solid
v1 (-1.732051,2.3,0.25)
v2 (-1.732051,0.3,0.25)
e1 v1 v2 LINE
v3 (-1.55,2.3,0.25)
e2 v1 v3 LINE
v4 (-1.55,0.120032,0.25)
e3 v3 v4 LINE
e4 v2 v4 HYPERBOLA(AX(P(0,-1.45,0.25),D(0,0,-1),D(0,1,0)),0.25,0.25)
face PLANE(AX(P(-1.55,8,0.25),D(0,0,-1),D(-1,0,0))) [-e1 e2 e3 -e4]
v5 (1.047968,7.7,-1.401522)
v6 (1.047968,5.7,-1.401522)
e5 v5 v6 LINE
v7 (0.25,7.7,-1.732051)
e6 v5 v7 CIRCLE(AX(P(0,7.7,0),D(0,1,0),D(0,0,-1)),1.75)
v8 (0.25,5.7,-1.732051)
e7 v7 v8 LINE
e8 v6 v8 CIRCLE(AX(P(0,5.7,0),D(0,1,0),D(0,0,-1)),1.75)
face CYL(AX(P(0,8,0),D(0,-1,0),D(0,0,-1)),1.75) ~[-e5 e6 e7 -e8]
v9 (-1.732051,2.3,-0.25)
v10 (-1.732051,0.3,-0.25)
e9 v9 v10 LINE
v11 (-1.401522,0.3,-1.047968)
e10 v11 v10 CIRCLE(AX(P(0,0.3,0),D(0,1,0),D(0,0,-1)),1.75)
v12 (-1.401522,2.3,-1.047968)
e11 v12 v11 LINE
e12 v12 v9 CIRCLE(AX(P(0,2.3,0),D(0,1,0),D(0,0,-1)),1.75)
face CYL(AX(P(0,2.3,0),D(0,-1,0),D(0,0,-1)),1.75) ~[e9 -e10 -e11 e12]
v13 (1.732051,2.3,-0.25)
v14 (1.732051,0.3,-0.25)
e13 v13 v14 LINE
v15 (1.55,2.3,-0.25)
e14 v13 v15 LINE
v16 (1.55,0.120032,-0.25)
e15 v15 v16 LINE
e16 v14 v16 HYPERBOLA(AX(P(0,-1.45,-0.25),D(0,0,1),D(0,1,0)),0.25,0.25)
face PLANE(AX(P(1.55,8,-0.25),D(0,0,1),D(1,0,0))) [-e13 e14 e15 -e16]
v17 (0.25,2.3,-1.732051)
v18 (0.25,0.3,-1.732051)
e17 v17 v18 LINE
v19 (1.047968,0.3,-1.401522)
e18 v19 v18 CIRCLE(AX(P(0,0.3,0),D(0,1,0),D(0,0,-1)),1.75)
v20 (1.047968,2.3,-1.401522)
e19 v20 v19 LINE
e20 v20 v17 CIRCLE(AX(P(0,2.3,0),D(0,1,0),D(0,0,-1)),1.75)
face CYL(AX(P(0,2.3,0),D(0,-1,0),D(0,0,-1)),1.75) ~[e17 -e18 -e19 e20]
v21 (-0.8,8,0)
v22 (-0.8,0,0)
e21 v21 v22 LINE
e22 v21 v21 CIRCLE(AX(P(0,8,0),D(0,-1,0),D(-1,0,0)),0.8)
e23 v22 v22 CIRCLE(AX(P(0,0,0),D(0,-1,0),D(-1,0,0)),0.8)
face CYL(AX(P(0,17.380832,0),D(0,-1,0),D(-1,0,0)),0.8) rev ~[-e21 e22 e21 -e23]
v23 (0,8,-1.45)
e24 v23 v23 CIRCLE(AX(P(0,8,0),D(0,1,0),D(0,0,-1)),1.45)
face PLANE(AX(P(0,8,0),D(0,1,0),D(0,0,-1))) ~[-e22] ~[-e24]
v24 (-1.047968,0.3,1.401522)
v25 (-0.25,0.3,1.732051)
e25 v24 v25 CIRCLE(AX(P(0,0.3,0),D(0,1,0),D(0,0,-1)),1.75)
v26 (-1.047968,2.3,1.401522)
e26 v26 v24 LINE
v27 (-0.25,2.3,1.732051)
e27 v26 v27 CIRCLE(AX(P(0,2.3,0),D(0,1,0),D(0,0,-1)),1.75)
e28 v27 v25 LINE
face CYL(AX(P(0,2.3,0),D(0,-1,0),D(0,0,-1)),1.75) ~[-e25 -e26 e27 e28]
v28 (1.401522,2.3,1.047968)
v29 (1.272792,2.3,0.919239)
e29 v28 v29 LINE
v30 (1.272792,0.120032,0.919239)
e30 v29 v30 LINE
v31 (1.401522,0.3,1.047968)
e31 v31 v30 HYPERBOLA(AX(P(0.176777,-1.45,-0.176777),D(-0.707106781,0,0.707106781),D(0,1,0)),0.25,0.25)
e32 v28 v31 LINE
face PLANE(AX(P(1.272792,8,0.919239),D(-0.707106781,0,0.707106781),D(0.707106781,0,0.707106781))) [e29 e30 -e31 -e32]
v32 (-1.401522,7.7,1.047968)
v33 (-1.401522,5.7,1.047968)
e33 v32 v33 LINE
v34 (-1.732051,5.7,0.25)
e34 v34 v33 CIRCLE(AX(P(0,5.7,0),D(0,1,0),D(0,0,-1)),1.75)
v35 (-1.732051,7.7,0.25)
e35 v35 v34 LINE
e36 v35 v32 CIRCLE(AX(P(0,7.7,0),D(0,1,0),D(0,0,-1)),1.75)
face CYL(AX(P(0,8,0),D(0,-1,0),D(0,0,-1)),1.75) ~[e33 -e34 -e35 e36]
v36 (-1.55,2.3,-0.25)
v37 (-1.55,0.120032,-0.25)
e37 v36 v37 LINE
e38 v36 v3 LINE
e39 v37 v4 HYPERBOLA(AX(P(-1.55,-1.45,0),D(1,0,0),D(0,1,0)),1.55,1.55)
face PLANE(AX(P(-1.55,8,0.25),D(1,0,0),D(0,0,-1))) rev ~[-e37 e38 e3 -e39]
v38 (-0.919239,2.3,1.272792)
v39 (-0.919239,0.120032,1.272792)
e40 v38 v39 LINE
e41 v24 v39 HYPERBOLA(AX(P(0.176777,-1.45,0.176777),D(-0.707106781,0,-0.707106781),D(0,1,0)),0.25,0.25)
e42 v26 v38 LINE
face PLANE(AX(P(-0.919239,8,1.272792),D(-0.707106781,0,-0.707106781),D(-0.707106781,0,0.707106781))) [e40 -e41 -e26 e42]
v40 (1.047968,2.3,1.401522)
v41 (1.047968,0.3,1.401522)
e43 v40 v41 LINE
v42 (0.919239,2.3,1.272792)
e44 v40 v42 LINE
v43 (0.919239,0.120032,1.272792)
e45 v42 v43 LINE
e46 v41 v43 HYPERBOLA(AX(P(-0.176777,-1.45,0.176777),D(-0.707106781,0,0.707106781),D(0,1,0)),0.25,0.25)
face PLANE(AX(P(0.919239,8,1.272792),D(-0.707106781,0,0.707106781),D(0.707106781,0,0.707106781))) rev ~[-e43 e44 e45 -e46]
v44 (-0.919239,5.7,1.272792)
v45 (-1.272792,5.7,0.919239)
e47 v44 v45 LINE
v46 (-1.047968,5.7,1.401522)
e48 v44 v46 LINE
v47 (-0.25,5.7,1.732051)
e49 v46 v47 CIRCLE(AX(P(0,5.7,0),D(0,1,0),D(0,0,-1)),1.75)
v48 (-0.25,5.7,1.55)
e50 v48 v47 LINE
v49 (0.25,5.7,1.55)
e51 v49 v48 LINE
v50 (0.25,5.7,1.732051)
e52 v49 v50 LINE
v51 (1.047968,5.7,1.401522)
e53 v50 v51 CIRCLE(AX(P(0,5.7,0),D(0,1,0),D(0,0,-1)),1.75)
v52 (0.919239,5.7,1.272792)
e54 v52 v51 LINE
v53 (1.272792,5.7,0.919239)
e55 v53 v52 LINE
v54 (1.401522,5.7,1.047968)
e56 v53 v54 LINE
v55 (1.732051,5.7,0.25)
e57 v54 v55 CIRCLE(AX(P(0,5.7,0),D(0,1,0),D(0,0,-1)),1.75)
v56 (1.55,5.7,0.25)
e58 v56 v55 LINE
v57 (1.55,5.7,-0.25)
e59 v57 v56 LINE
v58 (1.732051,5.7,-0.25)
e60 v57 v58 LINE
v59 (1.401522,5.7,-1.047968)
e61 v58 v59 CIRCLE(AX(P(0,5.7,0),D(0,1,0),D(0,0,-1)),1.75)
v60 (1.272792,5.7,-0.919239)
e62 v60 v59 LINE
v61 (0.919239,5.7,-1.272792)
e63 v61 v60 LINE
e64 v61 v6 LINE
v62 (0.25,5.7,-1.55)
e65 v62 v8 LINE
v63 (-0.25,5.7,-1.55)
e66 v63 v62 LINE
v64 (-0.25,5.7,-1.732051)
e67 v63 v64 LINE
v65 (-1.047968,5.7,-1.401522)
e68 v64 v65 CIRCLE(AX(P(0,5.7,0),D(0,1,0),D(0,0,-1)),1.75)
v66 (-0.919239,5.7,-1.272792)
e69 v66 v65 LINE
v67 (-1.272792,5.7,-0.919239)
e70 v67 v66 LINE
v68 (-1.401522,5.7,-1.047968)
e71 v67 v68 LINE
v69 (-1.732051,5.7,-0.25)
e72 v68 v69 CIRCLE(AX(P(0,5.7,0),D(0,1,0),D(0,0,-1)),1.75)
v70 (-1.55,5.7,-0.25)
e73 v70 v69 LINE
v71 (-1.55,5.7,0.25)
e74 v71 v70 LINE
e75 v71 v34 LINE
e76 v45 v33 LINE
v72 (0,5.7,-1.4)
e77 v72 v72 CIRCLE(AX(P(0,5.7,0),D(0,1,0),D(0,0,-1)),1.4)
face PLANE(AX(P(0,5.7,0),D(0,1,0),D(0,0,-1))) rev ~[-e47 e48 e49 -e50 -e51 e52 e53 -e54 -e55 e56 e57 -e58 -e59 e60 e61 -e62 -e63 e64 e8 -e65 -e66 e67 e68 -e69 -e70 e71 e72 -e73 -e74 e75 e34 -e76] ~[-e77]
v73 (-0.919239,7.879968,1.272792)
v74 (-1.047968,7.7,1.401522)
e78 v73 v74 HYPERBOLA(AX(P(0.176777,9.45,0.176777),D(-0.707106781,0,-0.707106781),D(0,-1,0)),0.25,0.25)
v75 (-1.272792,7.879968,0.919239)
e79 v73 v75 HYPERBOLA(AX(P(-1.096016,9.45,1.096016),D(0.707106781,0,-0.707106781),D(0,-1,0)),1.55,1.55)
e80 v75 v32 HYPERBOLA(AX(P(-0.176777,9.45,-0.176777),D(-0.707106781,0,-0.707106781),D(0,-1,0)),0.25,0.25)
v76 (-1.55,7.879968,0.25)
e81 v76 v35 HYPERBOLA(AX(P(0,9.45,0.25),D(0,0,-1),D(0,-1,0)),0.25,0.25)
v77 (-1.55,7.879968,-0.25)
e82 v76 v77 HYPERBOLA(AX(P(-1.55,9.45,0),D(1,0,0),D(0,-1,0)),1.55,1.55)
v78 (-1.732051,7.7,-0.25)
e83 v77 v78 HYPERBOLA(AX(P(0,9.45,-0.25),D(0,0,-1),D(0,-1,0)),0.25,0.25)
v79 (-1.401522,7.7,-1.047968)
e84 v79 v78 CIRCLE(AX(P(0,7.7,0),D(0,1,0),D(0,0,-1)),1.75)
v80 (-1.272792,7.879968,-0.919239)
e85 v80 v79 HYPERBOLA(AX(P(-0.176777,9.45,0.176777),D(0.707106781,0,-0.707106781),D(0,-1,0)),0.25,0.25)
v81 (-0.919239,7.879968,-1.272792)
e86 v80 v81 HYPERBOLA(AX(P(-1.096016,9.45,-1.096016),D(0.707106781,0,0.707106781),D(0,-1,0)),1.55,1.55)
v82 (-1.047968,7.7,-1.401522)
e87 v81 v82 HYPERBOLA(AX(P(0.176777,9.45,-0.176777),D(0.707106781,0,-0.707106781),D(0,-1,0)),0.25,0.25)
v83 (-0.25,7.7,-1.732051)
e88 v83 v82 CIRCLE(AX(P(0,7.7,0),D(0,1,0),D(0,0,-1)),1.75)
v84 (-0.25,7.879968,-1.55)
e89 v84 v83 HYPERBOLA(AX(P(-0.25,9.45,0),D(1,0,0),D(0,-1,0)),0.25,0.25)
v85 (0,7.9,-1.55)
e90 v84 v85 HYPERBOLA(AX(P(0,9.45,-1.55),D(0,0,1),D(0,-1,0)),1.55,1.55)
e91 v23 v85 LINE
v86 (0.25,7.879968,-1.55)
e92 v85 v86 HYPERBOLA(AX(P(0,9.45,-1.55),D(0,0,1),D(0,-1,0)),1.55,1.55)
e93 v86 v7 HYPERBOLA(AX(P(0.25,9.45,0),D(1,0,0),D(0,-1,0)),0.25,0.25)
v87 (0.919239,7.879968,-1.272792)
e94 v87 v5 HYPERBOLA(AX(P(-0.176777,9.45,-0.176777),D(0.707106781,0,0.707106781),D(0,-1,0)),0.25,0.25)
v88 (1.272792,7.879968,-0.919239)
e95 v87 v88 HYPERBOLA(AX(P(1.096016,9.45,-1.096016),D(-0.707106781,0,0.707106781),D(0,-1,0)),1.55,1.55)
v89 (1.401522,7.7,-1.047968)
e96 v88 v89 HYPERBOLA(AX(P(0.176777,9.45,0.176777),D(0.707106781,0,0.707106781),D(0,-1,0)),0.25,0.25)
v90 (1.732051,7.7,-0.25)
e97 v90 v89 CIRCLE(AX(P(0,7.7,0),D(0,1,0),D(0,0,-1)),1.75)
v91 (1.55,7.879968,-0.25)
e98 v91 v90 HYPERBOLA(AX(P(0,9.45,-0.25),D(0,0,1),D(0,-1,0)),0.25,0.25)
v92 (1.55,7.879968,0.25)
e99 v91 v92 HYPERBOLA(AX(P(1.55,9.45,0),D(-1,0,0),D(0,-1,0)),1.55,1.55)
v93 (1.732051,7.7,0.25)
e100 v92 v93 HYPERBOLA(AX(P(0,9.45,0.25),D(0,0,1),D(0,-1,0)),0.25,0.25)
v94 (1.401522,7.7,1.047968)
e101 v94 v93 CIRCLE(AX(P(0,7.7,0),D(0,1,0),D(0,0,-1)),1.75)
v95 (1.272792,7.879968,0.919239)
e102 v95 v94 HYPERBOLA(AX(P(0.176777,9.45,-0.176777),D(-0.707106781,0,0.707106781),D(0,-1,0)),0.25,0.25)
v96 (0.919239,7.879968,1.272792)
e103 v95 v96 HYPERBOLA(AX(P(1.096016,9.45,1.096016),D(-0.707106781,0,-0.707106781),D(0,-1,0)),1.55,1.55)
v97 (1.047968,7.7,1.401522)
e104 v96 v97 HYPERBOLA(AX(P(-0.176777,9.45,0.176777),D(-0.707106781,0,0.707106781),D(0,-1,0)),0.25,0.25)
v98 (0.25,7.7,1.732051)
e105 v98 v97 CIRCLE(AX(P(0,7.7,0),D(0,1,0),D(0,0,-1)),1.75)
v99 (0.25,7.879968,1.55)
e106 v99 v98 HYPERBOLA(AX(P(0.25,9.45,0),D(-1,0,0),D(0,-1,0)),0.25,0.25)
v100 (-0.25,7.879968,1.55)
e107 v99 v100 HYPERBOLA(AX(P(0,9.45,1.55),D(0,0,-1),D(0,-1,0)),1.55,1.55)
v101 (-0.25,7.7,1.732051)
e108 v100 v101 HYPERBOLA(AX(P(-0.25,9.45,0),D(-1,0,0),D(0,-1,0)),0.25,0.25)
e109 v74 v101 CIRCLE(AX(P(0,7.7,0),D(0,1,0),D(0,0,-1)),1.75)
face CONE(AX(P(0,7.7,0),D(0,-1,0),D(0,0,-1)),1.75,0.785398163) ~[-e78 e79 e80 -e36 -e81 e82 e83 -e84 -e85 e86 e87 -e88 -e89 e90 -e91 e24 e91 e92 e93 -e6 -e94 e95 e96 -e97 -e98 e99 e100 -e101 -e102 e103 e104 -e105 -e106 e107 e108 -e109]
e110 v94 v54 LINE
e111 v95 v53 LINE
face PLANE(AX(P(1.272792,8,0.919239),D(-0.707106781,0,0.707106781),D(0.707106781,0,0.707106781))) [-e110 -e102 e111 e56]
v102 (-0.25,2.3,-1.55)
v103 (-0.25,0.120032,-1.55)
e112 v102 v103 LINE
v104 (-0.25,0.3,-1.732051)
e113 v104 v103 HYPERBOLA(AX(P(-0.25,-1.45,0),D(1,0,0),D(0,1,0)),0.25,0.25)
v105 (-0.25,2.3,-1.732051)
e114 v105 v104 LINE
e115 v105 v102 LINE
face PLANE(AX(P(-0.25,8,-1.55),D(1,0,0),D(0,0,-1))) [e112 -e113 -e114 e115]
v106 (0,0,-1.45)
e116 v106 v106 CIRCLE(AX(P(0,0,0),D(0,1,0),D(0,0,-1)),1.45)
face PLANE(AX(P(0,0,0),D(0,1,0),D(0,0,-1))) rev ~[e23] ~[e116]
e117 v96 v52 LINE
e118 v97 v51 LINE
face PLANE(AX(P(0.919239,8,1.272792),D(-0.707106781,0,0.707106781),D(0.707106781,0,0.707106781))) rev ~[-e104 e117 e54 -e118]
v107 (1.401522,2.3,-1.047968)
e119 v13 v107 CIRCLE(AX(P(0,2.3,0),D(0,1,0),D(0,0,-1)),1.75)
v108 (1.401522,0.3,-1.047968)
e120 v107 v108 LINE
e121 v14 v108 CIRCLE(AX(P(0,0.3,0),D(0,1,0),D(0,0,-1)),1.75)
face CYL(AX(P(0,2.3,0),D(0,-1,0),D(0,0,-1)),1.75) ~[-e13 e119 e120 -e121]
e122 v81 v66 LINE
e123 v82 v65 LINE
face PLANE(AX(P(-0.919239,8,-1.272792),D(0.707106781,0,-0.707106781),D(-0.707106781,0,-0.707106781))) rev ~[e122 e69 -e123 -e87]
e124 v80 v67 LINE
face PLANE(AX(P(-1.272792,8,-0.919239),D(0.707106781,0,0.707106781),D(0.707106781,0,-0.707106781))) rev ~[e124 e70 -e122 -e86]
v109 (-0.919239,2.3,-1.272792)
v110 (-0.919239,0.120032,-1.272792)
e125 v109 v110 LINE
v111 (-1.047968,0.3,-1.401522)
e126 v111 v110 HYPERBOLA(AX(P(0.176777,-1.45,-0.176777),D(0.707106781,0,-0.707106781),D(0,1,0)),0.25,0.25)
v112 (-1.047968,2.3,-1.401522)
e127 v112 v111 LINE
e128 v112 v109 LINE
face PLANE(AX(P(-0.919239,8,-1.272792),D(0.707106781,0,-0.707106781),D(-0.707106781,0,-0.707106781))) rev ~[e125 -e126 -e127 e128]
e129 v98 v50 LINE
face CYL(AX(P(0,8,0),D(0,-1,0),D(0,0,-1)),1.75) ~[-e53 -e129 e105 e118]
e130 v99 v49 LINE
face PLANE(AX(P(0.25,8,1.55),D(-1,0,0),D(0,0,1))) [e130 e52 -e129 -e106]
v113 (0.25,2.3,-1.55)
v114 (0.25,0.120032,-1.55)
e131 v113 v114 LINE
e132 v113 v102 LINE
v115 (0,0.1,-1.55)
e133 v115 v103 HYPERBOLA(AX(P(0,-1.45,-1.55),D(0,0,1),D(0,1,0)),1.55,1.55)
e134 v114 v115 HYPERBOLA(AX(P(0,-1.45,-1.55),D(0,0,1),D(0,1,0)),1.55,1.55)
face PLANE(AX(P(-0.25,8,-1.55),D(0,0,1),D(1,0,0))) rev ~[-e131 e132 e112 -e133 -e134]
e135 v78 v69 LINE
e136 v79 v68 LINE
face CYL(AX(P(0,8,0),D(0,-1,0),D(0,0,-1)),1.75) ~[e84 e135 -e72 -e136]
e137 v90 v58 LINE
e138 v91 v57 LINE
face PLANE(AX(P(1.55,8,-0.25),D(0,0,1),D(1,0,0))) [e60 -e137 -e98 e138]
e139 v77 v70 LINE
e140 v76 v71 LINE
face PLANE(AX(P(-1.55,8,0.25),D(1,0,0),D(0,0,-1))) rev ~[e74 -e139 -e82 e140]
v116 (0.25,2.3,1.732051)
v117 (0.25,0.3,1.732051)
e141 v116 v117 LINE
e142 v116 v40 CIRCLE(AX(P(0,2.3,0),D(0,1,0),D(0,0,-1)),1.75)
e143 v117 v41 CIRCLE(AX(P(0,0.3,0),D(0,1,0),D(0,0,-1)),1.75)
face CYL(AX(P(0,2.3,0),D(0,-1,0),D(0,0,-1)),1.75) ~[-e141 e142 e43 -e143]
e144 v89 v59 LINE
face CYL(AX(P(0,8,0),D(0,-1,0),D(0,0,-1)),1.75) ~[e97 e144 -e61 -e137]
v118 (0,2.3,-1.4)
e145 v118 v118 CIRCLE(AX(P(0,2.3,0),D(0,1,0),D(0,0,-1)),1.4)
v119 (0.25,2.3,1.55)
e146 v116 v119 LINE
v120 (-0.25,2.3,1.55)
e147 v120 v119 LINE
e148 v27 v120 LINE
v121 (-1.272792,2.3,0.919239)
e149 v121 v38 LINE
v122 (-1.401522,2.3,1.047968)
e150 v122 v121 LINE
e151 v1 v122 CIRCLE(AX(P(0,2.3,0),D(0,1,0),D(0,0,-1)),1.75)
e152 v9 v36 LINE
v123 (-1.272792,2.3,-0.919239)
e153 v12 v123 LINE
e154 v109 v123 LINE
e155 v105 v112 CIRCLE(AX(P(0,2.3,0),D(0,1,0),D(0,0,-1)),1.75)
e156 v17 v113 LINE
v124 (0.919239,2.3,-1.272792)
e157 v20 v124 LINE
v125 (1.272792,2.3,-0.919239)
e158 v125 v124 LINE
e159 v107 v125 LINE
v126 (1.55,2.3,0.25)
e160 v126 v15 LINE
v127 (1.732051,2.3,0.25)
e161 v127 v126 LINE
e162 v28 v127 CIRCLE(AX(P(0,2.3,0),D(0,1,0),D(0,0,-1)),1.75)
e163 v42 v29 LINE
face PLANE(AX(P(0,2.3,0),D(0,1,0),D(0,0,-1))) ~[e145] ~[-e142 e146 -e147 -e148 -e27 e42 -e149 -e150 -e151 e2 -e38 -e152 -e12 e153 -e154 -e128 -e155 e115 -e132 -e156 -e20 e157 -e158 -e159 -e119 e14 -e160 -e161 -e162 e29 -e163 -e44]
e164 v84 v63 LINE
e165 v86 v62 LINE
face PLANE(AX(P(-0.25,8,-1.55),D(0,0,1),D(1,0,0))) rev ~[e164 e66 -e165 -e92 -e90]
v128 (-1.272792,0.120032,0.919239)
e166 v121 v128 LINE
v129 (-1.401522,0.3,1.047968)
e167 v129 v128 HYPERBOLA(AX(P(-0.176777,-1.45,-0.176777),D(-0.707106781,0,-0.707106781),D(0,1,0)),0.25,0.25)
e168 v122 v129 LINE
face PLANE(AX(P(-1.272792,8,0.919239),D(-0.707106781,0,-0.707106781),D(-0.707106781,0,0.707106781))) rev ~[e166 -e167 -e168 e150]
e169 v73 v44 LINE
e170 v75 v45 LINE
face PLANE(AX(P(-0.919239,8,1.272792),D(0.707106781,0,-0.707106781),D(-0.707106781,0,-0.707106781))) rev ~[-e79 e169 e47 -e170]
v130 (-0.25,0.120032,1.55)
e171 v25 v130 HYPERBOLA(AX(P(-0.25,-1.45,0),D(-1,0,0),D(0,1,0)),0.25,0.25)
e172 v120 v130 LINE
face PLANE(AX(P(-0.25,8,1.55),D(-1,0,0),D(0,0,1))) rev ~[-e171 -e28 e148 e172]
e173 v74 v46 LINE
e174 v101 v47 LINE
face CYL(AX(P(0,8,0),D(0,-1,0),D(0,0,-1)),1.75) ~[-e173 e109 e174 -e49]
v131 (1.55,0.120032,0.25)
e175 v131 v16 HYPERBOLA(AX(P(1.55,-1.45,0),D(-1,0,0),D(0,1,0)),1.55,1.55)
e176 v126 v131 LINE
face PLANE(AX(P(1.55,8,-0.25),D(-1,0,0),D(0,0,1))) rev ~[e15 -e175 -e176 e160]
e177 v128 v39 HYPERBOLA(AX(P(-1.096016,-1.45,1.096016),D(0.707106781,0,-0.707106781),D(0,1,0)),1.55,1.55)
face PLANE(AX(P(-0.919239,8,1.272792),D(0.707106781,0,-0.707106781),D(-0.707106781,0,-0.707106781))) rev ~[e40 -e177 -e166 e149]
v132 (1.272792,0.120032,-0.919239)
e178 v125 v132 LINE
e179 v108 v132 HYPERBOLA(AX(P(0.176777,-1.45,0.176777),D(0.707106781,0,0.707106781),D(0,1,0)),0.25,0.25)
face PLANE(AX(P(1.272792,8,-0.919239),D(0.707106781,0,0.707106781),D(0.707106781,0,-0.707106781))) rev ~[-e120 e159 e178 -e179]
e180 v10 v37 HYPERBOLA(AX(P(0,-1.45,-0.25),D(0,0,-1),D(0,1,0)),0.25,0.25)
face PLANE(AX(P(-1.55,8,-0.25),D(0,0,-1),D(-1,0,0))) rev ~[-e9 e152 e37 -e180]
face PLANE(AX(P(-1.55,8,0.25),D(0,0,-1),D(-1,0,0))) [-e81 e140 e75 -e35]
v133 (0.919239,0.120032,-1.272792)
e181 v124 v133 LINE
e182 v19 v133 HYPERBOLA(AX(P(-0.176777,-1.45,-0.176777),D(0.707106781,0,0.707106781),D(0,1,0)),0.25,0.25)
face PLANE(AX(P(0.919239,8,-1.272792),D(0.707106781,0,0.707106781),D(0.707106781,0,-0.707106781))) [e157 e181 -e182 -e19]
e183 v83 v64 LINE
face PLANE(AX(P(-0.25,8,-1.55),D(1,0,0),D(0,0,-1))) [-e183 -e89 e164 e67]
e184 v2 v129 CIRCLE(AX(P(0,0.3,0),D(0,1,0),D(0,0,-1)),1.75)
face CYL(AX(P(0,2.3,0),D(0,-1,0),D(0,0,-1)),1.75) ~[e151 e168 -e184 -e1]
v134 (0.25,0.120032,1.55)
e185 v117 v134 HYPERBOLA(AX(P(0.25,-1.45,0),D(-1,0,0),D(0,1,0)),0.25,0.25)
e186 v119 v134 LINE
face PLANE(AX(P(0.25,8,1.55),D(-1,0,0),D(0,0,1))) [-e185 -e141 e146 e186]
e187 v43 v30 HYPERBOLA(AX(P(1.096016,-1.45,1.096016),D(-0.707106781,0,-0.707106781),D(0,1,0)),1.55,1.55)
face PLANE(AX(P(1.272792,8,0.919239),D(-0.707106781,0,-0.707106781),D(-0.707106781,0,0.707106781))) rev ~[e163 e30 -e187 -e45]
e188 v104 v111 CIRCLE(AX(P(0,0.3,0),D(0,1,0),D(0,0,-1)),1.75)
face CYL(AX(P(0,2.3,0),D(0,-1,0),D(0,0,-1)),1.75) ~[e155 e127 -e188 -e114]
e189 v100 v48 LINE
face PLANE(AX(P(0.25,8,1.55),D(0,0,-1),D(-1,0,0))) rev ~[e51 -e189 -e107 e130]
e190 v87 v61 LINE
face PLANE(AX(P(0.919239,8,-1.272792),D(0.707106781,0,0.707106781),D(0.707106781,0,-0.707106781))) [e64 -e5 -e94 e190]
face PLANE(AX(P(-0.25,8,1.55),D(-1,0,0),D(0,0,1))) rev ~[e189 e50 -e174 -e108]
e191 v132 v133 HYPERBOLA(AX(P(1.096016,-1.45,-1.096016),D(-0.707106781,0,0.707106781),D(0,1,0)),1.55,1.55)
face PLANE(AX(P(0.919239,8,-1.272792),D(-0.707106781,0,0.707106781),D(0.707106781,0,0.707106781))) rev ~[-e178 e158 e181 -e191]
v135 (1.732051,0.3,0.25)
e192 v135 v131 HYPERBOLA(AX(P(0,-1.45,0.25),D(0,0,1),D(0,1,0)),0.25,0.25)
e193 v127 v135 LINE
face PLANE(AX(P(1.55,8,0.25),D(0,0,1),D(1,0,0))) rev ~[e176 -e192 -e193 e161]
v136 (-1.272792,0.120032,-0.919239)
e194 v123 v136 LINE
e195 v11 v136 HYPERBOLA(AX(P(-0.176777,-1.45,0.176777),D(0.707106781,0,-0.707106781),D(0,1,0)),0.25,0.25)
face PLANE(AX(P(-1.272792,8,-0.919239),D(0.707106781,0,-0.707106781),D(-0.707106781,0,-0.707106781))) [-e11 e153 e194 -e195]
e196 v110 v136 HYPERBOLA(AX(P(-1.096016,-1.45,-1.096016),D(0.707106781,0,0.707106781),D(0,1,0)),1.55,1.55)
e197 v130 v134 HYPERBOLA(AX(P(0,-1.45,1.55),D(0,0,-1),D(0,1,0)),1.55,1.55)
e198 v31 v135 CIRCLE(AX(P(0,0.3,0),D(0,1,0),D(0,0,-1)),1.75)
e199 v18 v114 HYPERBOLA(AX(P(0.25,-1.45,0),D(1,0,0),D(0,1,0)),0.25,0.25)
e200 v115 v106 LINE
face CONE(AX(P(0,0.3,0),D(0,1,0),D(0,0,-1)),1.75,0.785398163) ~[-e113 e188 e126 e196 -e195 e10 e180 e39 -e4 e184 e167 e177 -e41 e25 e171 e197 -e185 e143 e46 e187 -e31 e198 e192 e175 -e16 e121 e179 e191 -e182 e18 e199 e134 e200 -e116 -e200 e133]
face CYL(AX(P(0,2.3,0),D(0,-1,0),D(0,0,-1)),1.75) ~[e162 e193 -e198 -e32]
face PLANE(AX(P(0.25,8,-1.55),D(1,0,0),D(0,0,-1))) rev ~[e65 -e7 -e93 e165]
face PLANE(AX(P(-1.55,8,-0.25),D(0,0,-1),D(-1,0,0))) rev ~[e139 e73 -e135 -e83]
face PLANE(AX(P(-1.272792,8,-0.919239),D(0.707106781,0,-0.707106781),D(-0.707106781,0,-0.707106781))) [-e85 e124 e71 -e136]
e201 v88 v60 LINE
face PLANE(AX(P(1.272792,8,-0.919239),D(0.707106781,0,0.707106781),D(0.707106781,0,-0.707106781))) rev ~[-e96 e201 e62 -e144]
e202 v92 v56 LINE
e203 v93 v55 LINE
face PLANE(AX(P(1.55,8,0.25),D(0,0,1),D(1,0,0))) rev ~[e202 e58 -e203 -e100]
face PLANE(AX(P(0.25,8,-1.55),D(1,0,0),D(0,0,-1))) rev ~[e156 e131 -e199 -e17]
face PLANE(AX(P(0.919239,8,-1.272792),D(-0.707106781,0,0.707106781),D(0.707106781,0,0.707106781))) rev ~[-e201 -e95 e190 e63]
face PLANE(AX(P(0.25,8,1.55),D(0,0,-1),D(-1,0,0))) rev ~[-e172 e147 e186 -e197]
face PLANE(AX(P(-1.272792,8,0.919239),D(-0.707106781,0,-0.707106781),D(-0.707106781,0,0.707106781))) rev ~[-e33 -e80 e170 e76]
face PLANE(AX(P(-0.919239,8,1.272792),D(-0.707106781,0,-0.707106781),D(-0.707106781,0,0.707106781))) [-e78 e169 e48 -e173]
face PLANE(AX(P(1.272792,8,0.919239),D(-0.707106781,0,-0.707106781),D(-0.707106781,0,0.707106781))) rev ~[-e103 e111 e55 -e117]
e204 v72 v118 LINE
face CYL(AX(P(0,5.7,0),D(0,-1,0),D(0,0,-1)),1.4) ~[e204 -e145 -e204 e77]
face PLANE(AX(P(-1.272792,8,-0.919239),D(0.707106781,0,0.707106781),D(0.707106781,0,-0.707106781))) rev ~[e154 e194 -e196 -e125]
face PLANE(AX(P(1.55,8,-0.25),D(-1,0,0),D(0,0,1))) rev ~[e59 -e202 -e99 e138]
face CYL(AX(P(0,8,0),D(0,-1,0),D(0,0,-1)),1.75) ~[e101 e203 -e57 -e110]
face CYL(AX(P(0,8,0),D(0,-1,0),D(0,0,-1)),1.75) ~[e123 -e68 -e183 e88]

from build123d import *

# Parameters (mm, degrees)
CHANFRO2_SIZE         = 0.3
CORTE_EXTRUS_O2_REACH = 10.374
ESBO_O7_W             = 0.5
ESBO_O7_H             = 0.2
PADR_OCIRCULAR1_COUNT = 8
M2X0_4_TAPPED_HOLE1_D = 1.6


with BuildPart() as part:
    # Esboço2 → Revolução1 (revolve)
    with BuildSketch(Plane.XY, mode=Mode.PRIVATE) as revolu_o1_sk:
        Polygon((0, 8), (1.75, 8), (1.75, 5.7), (1.4, 5.7), (1.4, 2.3), (1.75, 2.3), (1.75, 0), (0, 0), align=None)
    revolve(revolu_o1_sk.sketch.rotate(Axis((0, 0, 0), (0, 1, 0)), 90), axis=Axis((0, 0, 0), (0, 1, 0)))

    # Chanfro2
    chanfro2_edges = [part.edges().sort_by_distance(p)[0] for p in [
        (0, 0, 1.75),
        (0, 8, 1.75),
    ]]
    chamfer(chanfro2_edges, length=CHANFRO2_SIZE)

    # Corte-extrusão2: up to this face of the body (flat: up to its plane)
    corte_extrus_o2_end = Plane(part.part.faces().sort_by_distance((0, 0, 0))[0])
    # Esboço7 → Corte-extrusão2 (cut, up to the picked face)
    with BuildSketch(Plane(origin=(0, 8, 0), x_dir=(1, 0, 0), z_dir=(0, 1, 0)), mode=Mode.PRIVATE) as corte_extrus_o2_sk1:
        with Locations((0, 1.65)):
            Rectangle(ESBO_O7_W, ESBO_O7_H)
    corte_extrus_o2_tool1 = split(extrude(corte_extrus_o2_sk1.sketch, amount=-CORTE_EXTRUS_O2_REACH, mode=Mode.PRIVATE), bisect_by=corte_extrus_o2_end, keep=Keep.BOTH, mode=Mode.PRIVATE)
    corte_extrus_o2 = corte_extrus_o2_tool1.solids().sort_by(Axis((0, 8, -1.65), (0, -1, 0)))[0]
    add(corte_extrus_o2, mode=Mode.SUBTRACT)

    # PadrãoCircular1: Corte-extrusão2 ×8 about axis
    padr_ocircular1_axis = Axis((0, 0, 0), (0, 1, 0))
    for i in range(1, PADR_OCIRCULAR1_COUNT):
        add(corte_extrus_o2.rotate(padr_ocircular1_axis, i * 360 / PADR_OCIRCULAR1_COUNT), mode=Mode.SUBTRACT)

    # M2x0.4 Tapped Hole1 (through all)
    with Locations(Plane(origin=(0, 8, 0), x_dir=(1, 0, 0), z_dir=(0, 1, 0))):
        with Locations((0, 0)):
            Hole(M2X0_4_TAPPED_HOLE1_D / 2)


solid = part.part
